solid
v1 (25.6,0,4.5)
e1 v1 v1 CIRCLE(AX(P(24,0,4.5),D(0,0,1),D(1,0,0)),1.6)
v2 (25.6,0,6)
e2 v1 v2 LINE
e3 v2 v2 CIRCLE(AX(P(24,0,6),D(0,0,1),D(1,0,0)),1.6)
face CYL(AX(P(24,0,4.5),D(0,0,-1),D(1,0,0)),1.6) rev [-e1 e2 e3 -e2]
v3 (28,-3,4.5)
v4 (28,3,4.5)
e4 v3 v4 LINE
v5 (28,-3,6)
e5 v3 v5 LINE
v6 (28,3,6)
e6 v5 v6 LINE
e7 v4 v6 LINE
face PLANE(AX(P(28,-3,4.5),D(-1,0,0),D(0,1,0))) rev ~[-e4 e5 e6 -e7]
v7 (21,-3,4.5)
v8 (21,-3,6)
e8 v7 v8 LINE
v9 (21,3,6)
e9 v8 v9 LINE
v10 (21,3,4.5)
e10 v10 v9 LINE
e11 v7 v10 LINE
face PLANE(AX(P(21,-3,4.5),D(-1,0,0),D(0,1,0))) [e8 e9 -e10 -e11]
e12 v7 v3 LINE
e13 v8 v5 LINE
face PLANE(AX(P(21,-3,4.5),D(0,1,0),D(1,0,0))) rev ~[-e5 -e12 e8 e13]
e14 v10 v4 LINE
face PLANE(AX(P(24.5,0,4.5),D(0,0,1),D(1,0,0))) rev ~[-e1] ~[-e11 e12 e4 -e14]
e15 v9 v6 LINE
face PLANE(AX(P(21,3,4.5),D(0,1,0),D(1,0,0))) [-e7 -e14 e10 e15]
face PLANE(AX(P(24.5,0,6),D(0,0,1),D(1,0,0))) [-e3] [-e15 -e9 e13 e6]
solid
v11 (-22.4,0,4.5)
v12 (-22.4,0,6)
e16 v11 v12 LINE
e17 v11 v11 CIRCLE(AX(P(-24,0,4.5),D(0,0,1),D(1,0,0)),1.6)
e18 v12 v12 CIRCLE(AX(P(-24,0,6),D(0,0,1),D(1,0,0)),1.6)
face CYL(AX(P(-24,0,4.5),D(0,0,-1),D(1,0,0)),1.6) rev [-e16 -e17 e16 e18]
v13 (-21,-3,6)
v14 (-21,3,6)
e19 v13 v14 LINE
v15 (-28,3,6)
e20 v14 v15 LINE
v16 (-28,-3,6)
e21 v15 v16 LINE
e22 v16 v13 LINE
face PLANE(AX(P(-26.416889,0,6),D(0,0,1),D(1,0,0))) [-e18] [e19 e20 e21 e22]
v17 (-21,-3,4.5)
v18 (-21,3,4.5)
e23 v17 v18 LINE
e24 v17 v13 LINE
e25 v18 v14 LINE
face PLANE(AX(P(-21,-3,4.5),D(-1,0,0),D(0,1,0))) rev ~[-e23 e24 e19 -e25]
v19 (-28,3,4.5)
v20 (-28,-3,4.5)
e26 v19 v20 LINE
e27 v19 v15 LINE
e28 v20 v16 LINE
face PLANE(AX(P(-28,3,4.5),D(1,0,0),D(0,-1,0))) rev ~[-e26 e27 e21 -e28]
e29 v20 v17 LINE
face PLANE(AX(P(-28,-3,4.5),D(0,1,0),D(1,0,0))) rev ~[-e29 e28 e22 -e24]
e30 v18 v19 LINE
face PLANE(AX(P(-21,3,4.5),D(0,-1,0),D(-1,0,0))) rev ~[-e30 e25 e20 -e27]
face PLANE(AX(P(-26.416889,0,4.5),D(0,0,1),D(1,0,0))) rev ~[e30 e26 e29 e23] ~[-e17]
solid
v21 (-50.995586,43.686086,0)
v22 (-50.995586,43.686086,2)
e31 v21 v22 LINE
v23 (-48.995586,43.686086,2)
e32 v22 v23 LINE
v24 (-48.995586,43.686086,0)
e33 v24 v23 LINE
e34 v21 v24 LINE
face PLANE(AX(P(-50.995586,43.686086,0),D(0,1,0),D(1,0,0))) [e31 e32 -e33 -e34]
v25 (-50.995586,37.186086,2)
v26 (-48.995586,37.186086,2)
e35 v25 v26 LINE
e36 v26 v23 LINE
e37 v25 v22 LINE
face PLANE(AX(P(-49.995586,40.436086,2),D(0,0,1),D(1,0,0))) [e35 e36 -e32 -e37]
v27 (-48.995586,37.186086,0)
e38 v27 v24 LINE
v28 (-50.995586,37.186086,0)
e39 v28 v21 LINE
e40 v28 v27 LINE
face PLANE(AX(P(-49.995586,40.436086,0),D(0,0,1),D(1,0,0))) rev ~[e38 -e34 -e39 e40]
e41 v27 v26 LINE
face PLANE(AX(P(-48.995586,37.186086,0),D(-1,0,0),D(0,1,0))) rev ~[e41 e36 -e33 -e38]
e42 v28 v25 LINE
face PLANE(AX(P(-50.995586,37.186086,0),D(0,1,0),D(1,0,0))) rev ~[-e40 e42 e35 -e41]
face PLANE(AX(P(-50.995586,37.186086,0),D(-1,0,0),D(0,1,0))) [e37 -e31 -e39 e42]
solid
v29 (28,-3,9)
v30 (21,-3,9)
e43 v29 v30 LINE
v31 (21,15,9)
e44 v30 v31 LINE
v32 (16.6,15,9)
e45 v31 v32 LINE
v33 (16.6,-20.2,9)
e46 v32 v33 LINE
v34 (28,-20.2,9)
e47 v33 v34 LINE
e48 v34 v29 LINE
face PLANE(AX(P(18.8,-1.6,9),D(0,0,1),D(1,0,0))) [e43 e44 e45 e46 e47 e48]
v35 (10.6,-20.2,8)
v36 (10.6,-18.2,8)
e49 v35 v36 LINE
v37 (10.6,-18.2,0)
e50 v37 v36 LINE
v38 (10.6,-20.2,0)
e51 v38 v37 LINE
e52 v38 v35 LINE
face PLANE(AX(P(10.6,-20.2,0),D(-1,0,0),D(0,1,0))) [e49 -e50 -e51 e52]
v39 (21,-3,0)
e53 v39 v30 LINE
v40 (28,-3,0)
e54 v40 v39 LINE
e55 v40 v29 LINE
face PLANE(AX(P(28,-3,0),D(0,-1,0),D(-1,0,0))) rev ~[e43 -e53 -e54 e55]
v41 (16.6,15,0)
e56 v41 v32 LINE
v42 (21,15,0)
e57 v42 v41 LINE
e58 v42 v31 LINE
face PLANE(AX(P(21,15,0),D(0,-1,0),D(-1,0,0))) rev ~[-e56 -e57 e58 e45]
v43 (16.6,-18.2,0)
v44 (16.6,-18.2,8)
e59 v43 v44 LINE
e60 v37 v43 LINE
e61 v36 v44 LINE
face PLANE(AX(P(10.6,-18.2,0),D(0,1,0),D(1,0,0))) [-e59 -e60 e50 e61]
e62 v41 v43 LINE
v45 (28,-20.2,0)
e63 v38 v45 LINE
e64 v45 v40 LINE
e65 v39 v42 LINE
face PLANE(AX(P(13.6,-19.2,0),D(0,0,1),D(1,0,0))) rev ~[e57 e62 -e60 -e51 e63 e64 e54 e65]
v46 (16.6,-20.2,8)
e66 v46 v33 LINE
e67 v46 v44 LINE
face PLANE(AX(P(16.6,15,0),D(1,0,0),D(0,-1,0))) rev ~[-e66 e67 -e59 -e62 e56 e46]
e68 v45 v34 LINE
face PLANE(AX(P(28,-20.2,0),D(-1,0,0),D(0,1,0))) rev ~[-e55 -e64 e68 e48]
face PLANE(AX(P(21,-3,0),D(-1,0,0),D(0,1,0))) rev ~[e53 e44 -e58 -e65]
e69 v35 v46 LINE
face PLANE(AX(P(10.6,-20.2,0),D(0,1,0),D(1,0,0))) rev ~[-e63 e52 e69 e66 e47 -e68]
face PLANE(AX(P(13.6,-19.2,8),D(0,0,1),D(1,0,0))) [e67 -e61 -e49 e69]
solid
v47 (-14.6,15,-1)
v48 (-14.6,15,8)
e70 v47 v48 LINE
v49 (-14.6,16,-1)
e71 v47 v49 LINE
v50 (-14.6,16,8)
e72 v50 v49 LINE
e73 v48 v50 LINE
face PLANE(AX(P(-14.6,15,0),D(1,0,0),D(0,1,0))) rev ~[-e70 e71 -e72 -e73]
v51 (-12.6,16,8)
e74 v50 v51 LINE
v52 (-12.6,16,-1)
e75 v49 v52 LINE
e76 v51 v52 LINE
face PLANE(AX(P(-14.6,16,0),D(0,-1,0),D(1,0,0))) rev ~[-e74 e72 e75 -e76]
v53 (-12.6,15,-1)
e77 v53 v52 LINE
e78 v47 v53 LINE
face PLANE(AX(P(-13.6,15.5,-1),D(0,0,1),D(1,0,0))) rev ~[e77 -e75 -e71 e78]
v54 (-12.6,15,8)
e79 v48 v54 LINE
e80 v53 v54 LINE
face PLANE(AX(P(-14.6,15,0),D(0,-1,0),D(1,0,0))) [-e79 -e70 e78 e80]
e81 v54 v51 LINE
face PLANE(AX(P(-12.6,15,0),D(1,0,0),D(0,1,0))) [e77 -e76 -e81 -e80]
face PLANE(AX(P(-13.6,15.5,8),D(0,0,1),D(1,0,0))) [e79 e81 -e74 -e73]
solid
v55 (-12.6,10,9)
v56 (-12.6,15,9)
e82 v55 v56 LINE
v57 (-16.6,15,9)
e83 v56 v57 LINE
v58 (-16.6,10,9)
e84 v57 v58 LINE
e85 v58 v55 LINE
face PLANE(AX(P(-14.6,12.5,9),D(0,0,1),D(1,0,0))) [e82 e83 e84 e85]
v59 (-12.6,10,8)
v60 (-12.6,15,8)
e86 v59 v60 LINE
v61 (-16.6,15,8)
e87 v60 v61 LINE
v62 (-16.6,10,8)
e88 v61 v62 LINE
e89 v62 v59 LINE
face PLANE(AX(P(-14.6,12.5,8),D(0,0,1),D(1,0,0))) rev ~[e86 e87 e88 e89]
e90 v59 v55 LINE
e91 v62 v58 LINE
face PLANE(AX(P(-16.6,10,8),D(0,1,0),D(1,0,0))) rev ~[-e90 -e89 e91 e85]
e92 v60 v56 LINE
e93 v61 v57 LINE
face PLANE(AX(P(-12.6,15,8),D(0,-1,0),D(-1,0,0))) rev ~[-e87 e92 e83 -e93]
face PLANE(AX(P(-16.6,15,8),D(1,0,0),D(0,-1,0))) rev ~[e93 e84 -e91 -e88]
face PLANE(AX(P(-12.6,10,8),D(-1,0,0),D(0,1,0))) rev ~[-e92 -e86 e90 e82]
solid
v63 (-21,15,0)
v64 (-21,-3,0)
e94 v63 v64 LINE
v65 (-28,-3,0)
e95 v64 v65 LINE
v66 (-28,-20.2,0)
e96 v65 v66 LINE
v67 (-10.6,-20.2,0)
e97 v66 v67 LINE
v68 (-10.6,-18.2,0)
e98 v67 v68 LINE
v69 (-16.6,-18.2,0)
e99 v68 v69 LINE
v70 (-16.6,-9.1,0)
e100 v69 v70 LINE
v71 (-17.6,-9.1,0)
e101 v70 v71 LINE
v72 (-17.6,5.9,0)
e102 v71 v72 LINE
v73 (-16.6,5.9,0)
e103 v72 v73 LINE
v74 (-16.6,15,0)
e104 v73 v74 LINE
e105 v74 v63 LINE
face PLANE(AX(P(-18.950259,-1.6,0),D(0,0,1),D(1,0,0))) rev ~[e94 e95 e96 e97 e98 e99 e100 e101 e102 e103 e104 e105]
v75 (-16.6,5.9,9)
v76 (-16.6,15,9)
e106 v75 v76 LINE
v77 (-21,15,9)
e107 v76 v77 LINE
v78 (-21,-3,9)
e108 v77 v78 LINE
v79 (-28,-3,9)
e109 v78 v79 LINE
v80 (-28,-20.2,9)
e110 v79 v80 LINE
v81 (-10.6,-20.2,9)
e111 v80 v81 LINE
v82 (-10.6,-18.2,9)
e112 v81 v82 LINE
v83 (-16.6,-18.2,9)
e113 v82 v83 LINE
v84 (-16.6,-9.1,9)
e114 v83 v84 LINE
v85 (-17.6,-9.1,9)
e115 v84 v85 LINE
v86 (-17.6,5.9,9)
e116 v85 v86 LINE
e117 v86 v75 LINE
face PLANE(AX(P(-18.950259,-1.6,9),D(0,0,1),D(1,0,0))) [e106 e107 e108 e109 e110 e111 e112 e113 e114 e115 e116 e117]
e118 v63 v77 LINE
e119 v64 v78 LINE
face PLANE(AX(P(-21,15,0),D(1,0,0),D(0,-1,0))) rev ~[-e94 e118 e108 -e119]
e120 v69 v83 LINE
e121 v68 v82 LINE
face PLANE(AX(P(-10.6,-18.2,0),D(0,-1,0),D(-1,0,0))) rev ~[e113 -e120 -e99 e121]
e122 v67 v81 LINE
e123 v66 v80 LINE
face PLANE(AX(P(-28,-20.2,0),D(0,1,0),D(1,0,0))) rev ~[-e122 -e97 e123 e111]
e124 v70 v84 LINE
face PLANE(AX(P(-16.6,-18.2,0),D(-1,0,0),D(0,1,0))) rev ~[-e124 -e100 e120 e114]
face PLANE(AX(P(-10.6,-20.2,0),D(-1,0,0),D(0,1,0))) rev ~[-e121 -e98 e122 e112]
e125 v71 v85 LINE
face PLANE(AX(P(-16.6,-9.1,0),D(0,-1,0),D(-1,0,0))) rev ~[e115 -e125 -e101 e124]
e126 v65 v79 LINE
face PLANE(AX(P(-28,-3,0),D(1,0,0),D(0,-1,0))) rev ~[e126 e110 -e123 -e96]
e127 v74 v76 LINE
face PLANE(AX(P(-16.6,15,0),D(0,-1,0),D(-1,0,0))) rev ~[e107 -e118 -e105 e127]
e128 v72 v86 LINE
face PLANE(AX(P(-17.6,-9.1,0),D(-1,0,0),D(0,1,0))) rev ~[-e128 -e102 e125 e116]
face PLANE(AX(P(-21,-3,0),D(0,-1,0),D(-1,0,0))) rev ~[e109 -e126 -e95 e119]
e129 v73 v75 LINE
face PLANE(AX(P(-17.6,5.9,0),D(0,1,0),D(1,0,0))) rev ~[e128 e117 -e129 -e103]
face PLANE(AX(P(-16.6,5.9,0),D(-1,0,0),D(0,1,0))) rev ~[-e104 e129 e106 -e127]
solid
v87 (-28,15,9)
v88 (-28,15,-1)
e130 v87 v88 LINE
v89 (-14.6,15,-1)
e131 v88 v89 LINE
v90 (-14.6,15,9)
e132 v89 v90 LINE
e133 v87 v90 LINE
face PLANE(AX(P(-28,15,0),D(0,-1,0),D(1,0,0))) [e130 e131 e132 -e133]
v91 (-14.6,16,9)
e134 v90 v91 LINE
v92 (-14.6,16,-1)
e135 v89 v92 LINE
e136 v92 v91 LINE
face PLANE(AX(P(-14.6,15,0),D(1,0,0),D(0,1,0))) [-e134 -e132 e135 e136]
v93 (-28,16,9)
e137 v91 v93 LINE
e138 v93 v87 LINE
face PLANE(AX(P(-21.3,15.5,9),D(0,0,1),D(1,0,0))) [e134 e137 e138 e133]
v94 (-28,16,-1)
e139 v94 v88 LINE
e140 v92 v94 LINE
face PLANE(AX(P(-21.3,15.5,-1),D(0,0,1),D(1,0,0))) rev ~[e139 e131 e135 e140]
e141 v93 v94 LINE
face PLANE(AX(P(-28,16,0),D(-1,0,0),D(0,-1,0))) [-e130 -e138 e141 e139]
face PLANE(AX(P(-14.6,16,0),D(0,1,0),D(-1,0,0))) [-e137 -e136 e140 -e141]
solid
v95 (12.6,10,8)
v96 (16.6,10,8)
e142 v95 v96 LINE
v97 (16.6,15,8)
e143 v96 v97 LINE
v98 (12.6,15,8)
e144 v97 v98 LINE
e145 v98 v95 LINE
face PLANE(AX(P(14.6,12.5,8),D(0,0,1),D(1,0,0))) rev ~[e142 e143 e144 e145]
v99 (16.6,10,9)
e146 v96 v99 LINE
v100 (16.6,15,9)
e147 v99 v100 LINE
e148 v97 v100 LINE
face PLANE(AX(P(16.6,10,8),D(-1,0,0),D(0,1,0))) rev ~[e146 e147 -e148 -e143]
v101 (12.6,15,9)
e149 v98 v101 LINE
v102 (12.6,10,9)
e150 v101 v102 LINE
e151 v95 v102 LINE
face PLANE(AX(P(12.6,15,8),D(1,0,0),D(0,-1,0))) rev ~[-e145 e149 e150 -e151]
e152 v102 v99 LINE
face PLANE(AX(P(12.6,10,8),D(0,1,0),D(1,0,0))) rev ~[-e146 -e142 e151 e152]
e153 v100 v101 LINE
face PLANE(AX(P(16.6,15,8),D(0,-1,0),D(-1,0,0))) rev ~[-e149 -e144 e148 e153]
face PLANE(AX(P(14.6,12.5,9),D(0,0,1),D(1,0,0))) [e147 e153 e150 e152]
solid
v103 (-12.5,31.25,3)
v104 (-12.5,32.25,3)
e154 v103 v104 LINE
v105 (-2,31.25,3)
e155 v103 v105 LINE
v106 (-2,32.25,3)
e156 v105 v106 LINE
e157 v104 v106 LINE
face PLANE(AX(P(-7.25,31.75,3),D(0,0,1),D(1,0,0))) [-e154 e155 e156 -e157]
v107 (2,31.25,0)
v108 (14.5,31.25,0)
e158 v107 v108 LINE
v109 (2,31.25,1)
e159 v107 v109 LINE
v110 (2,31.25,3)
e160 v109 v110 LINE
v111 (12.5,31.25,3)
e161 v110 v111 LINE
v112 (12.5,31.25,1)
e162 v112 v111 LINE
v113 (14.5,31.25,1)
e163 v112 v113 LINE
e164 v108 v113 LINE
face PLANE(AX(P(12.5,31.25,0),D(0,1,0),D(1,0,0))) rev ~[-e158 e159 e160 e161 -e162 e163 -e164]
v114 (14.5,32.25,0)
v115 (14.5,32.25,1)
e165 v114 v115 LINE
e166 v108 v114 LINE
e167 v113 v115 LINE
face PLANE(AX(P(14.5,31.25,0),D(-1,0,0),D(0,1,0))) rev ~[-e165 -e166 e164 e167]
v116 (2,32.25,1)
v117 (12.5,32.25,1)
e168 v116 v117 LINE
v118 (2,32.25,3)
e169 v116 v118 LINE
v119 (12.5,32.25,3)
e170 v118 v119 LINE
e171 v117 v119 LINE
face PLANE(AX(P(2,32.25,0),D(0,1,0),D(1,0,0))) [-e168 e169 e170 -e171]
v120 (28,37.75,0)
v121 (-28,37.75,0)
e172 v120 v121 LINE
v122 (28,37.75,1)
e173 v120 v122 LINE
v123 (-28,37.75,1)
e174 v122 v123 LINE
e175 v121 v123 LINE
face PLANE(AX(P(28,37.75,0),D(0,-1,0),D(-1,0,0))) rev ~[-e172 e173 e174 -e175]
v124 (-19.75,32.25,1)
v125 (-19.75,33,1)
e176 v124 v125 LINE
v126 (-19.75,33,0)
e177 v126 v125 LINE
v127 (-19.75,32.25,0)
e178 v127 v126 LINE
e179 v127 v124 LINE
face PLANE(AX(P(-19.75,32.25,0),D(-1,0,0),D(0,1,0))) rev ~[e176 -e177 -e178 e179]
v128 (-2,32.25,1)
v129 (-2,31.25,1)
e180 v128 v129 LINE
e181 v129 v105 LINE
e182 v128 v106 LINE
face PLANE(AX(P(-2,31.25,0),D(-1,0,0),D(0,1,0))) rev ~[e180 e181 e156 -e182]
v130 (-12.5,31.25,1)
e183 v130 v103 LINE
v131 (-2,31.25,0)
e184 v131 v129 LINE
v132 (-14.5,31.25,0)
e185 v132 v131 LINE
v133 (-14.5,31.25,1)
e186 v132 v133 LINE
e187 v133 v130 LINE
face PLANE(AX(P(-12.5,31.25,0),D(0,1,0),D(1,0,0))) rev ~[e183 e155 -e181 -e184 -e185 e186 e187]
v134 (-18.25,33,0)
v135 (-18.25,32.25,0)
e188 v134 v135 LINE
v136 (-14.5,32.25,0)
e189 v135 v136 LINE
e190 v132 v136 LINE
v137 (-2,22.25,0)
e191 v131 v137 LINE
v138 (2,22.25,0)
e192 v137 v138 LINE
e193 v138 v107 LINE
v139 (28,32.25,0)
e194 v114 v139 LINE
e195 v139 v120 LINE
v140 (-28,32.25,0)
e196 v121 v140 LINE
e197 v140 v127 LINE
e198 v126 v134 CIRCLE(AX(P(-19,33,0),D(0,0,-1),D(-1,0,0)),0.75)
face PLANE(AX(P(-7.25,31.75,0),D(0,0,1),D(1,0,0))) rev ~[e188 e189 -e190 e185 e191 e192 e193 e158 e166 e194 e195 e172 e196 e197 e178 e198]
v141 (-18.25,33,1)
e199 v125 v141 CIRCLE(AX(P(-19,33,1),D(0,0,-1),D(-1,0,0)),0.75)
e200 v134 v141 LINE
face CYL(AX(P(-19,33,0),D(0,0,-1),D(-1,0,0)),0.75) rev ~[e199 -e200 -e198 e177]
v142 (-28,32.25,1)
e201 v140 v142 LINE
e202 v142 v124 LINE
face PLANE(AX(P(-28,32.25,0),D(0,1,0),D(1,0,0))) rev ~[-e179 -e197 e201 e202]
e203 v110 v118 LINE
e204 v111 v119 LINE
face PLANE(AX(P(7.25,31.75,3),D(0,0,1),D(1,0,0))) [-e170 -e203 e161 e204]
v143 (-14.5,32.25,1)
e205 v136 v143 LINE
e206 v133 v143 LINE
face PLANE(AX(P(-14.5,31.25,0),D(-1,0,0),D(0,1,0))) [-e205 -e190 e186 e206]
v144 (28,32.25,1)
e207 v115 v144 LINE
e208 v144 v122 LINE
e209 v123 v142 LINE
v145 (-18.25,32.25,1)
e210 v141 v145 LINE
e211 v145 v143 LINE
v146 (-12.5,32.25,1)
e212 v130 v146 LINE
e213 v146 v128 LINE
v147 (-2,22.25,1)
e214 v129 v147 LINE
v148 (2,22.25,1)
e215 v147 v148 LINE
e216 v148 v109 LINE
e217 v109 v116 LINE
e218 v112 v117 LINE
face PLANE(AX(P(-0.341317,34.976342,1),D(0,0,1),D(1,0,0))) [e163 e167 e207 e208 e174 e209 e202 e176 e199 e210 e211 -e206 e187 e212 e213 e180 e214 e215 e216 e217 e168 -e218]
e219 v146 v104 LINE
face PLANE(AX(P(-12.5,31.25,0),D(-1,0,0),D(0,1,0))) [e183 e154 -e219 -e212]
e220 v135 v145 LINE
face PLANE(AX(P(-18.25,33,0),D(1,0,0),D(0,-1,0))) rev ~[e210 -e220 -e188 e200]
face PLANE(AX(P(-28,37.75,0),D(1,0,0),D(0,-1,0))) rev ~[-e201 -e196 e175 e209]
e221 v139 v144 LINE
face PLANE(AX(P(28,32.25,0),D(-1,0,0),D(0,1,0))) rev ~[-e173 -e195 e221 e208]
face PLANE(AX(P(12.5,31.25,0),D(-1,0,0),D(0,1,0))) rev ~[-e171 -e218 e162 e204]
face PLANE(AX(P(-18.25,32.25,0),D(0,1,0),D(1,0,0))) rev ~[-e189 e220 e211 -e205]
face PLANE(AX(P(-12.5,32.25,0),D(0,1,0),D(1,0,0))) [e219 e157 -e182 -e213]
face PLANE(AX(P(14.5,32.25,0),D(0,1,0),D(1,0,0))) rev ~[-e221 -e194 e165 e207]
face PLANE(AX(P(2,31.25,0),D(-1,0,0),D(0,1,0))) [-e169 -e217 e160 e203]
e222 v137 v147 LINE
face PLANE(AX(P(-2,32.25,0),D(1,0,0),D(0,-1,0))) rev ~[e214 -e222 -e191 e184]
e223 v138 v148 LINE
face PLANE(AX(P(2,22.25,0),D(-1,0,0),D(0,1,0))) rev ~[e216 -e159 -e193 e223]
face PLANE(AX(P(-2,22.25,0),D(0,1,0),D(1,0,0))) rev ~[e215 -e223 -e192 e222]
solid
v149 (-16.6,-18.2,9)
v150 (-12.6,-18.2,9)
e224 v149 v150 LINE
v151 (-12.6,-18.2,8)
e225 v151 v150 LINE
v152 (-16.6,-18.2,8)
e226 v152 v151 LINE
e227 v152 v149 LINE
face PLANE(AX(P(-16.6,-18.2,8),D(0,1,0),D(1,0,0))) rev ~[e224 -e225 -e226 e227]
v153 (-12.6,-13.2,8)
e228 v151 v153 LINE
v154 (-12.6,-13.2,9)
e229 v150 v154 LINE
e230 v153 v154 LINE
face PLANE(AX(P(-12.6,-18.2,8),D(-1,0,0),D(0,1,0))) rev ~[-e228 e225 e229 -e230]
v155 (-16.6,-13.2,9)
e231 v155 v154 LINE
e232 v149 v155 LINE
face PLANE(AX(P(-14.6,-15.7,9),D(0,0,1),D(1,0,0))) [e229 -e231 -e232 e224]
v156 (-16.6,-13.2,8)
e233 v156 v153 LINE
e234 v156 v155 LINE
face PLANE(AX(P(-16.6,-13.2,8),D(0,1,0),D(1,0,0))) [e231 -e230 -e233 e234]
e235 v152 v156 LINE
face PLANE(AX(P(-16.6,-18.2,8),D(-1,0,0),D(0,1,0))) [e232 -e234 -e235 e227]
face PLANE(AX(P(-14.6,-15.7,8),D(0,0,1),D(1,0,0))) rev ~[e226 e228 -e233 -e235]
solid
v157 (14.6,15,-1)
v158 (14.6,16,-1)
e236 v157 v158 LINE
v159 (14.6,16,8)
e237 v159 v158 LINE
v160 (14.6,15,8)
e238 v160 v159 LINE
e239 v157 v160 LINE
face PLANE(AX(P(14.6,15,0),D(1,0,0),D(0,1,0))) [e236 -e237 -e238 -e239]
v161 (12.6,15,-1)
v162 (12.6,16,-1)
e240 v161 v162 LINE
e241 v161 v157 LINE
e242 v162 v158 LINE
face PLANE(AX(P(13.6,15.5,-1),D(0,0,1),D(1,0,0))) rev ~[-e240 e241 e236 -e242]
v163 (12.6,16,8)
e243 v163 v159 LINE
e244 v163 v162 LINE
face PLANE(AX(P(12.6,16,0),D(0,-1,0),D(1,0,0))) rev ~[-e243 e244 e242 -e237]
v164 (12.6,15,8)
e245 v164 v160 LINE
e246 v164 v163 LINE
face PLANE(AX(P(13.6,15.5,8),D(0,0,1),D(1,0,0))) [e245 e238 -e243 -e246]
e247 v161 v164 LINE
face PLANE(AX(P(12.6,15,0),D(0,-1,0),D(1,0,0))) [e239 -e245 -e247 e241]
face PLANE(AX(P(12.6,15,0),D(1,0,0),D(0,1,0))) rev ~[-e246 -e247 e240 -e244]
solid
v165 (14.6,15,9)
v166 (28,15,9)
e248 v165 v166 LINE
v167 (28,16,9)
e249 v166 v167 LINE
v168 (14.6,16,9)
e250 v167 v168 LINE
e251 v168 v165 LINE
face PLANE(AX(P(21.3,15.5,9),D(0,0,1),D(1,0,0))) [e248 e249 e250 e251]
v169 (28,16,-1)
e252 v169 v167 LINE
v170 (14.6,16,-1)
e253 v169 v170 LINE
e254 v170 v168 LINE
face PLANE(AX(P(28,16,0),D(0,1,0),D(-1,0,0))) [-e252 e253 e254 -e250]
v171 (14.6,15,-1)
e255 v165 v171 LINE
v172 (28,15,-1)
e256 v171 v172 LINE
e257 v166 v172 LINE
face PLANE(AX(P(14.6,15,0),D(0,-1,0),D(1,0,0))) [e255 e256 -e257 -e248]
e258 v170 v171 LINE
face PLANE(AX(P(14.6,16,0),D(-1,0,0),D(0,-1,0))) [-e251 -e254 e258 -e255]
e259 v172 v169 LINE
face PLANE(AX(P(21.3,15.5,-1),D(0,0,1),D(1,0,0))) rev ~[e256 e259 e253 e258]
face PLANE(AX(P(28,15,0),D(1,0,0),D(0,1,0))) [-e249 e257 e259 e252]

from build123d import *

# Parameters (mm, degrees)
F1_DEPTH      = 9
F0_W          = 4.4
F0_H          = 2
F2_START      = 8
F2_DEPTH      = 1
F0_W_2        = 4
F0_H_2        = 5
F3_START      = 4.5
F0_R          = 1.6
F3_DEPTH      = 1.5
F0_W_3        = 7
F0_H_3        = 6
F4_DEPTH      = 9
F4_DEPTH_BACK = 1
F0_W_4        = 2
F0_H_4        = 1
F5_DEPTH      = 8
F5_DEPTH_BACK = 1
F6_W          = 2
F6_H          = 1
F7_DEPTH      = 1
F6_W_2        = 10.5
F8_DEPTH      = 3
F9_W          = 2
F9_H          = 6.5
F10_DEPTH     = 2
F0_W_5        = 6
F11_DEPTH     = 8


with BuildPart() as f1:
    # F0 (on Top) → F1 (new body)
    with BuildSketch(Plane.XY):
        Polygon((-21, 3), (-21, 0), (-21, -3), (-21, -18.2), (-16.6, -18.2), (-16.6, -13.2), (-16.6, -9.1), (-17.6, -9.1), (-17.6, 5.9), (-16.6, 5.9), (-16.6, 10), (-16.6, 15), (-21, 15), align=None)
        Polygon((-16.6, -18.2), (-21, -18.2), (-21, -20.2), (-10.6, -20.2), (-10.6, -18.2), (-12.6, -18.2), align=None)
        Polygon((-21, -3), (-24, -3), (-28, -3), (-28, -20.2), (-21, -20.2), (-21, -18.2), align=None)
    extrude(amount=F1_DEPTH)


with BuildPart() as f1b:
    # F0 (on Top) → F1, piece 2 (new body)
    with BuildSketch(Plane.XY):
        Polygon((21, -3), (21, 3), (21, 15), (16.6, 15), (16.6, 10), (16.6, -13.2), (16.6, -18.2), (21, -18.2), align=None)
        Polygon((28, -20.2), (28, -3), (21, -3), (21, -18.2), (21, -20.2), align=None)
        with Locations((18.8, -19.2)):
            Rectangle(F0_W, F0_H)
    extrude(amount=F1_DEPTH)

    # F0 (on Top) → F11 (join)
    with BuildSketch(Plane.XY):
        with Locations((13.6, -19.2)):
            Rectangle(F0_W_5, F0_H)
    extrude(amount=F11_DEPTH)


with BuildPart() as f2:
    # F0 (on Top) → F2 (new body)
    with BuildSketch(Plane.XY.offset(F2_START)):
        Polygon((-14.6, 15), (-16.6, 15), (-16.6, 10), (-12.6, 10), (-12.6, 15), align=None)
    extrude(amount=F2_DEPTH)


with BuildPart() as f2b:
    # F0 (on Top) → F2, piece 2 (new body)
    with BuildSketch(Plane.XY.offset(F2_START)):
        with Locations((-14.6, -15.7)):
            Rectangle(F0_W_2, F0_H_2)
    extrude(amount=F2_DEPTH)


with BuildPart() as f2c:
    # F0 (on Top) → F2, piece 3 (new body)
    with BuildSketch(Plane.XY.offset(F2_START)):
        Polygon((16.6, 10), (16.6, 15), (14.6, 15), (12.6, 15), (12.6, 10), align=None)
    extrude(amount=F2_DEPTH)


with BuildPart() as f3:
    # F0 (on Top) → F3 (new body)
    with BuildSketch(Plane.XY.offset(F3_START)):
        with BuildLine():
            ThreePointArc((-24, -3), (-27, 0), (-24, 3))
            Line((-24, 3), (-28, 3))
            Line((-28, 3), (-28, -3))
            Line((-28, -3), (-24, -3))
        make_face()
        with BuildLine():
            ThreePointArc((-24, -3), (-21.8786796564, -2.1213203436), (-21, 0))
            ThreePointArc((-21, 0), (-21.8786796564, 2.1213203436), (-24, 3))
            ThreePointArc((-24, 3), (-27, 0), (-24, -3))
        make_face()
        with Locations((-24, 0)):
            Circle(F0_R, mode=Mode.SUBTRACT)
        with BuildLine():
            ThreePointArc((-24, 3), (-21.8786796564, 2.1213203436), (-21, 0))
            Line((-21, 0), (-21, 3))
            Line((-21, 3), (-24, 3))
        make_face()
        with BuildLine():
            Line((-21, -3), (-21, 0))
            ThreePointArc((-21, 0), (-21.8786796564, -2.1213203436), (-24, -3))
            Line((-24, -3), (-21, -3))
        make_face()
    extrude(amount=F3_DEPTH)


with BuildPart() as f3b:
    # F0 (on Top) → F3, piece 2 (new body)
    with BuildSketch(Plane.XY.offset(F3_START)):
        with Locations((24.5, 0)):
            Rectangle(F0_W_3, F0_H_3)
        with Locations((24, 0)):
            Circle(F0_R, mode=Mode.SUBTRACT)
    extrude(amount=F3_DEPTH)


with BuildPart() as f4:
    # F0 (on Top) → F4 (new body, two sides)
    with BuildSketch(Plane.XY) as f4_sk:
        Polygon((-28, 15), (-21, 15), (-16.6, 15), (-14.6, 15), (-14.6, 16), (-28, 16), align=None)
    extrude(amount=F4_DEPTH)
    extrude(f4_sk.sketch, amount=-F4_DEPTH_BACK)


with BuildPart() as f4b:
    # F0 (on Top) → F4, piece 2 (new body, two sides)
    with BuildSketch(Plane.XY) as f4_2_sk:
        Polygon((16.6, 15), (21, 15), (28, 15), (28, 16), (14.6, 16), (14.6, 15), align=None)
    extrude(amount=F4_DEPTH)
    extrude(f4_2_sk.sketch, amount=-F4_DEPTH_BACK)


with BuildPart() as f5:
    # F0 (on Top) → F5 (new body, two sides)
    with BuildSketch(Plane.XY) as f5_sk:
        with Locations((-13.6, 15.5)):
            Rectangle(F0_W_4, F0_H_4)
    extrude(amount=F5_DEPTH)
    extrude(f5_sk.sketch, amount=-F5_DEPTH_BACK)


with BuildPart() as f5b:
    # F0 (on Top) → F5, piece 2 (new body, two sides)
    with BuildSketch(Plane.XY) as f5_2_sk:
        with Locations((13.6, 15.5)):
            Rectangle(F0_W_4, F0_H_4)
    extrude(amount=F5_DEPTH)
    extrude(f5_2_sk.sketch, amount=-F5_DEPTH_BACK)


with BuildPart() as f7:
    # F6 (on Top) → F7 (new body)
    with BuildSketch(Plane.XY):
        with BuildLine():
            Line((-28, 37.75), (-28, 32.25))
            Line((-28, 32.25), (-19.75, 32.25))
            Line((-19.75, 32.25), (-19.75, 33))
            ThreePointArc((-19.75, 33), (-19, 33.75), (-18.25, 33))
            Line((-18.25, 33), (-18.25, 32.25))
            Line((-18.25, 32.25), (-14.5, 32.25))
            Line((-14.5, 32.25), (-12.5, 32.25))
            Line((-12.5, 32.25), (-2, 32.25))
            Line((-2, 32.25), (2, 32.25))
            Line((2, 32.25), (12.5, 32.25))
            Line((12.5, 32.25), (14.5, 32.25))
            Line((14.5, 32.25), (28, 32.25))
            Line((28, 32.25), (28, 37.75))
            Line((28, 37.75), (-28, 37.75))
        make_face()
        with Locations((-13.5, 31.75)):
            Rectangle(F6_W, F6_H)
        with Locations((13.5, 31.75)):
            Rectangle(F6_W, F6_H)
        Polygon((2, 31.25), (2, 32.25), (-2, 32.25), (-2, 31.25), (-2, 22.25), (2, 22.25), align=None)
    extrude(amount=F7_DEPTH)

    # F6 (on Top) → F8 (join)
    with BuildSketch(Plane.XY):
        with Locations((-7.25, 31.75)):
            Rectangle(F6_W_2, F6_H)
        with Locations((7.25, 31.75)):
            Rectangle(F6_W_2, F6_H)
    extrude(amount=F8_DEPTH)


with BuildPart() as f10:
    # F9 (on Top) → F10 (new body)
    with BuildSketch(Plane.XY):
        with Locations((-49.9955862761, 40.4360860044)):
            Rectangle(F9_W, F9_H)
    extrude(amount=F10_DEPTH)


solid = Compound([f1.part, f1b.part, f2.part, f2b.part, f2c.part, f3.part, f3b.part, f4.part, f4b.part, f5.part, f5b.part, f7.part, f10.part])
